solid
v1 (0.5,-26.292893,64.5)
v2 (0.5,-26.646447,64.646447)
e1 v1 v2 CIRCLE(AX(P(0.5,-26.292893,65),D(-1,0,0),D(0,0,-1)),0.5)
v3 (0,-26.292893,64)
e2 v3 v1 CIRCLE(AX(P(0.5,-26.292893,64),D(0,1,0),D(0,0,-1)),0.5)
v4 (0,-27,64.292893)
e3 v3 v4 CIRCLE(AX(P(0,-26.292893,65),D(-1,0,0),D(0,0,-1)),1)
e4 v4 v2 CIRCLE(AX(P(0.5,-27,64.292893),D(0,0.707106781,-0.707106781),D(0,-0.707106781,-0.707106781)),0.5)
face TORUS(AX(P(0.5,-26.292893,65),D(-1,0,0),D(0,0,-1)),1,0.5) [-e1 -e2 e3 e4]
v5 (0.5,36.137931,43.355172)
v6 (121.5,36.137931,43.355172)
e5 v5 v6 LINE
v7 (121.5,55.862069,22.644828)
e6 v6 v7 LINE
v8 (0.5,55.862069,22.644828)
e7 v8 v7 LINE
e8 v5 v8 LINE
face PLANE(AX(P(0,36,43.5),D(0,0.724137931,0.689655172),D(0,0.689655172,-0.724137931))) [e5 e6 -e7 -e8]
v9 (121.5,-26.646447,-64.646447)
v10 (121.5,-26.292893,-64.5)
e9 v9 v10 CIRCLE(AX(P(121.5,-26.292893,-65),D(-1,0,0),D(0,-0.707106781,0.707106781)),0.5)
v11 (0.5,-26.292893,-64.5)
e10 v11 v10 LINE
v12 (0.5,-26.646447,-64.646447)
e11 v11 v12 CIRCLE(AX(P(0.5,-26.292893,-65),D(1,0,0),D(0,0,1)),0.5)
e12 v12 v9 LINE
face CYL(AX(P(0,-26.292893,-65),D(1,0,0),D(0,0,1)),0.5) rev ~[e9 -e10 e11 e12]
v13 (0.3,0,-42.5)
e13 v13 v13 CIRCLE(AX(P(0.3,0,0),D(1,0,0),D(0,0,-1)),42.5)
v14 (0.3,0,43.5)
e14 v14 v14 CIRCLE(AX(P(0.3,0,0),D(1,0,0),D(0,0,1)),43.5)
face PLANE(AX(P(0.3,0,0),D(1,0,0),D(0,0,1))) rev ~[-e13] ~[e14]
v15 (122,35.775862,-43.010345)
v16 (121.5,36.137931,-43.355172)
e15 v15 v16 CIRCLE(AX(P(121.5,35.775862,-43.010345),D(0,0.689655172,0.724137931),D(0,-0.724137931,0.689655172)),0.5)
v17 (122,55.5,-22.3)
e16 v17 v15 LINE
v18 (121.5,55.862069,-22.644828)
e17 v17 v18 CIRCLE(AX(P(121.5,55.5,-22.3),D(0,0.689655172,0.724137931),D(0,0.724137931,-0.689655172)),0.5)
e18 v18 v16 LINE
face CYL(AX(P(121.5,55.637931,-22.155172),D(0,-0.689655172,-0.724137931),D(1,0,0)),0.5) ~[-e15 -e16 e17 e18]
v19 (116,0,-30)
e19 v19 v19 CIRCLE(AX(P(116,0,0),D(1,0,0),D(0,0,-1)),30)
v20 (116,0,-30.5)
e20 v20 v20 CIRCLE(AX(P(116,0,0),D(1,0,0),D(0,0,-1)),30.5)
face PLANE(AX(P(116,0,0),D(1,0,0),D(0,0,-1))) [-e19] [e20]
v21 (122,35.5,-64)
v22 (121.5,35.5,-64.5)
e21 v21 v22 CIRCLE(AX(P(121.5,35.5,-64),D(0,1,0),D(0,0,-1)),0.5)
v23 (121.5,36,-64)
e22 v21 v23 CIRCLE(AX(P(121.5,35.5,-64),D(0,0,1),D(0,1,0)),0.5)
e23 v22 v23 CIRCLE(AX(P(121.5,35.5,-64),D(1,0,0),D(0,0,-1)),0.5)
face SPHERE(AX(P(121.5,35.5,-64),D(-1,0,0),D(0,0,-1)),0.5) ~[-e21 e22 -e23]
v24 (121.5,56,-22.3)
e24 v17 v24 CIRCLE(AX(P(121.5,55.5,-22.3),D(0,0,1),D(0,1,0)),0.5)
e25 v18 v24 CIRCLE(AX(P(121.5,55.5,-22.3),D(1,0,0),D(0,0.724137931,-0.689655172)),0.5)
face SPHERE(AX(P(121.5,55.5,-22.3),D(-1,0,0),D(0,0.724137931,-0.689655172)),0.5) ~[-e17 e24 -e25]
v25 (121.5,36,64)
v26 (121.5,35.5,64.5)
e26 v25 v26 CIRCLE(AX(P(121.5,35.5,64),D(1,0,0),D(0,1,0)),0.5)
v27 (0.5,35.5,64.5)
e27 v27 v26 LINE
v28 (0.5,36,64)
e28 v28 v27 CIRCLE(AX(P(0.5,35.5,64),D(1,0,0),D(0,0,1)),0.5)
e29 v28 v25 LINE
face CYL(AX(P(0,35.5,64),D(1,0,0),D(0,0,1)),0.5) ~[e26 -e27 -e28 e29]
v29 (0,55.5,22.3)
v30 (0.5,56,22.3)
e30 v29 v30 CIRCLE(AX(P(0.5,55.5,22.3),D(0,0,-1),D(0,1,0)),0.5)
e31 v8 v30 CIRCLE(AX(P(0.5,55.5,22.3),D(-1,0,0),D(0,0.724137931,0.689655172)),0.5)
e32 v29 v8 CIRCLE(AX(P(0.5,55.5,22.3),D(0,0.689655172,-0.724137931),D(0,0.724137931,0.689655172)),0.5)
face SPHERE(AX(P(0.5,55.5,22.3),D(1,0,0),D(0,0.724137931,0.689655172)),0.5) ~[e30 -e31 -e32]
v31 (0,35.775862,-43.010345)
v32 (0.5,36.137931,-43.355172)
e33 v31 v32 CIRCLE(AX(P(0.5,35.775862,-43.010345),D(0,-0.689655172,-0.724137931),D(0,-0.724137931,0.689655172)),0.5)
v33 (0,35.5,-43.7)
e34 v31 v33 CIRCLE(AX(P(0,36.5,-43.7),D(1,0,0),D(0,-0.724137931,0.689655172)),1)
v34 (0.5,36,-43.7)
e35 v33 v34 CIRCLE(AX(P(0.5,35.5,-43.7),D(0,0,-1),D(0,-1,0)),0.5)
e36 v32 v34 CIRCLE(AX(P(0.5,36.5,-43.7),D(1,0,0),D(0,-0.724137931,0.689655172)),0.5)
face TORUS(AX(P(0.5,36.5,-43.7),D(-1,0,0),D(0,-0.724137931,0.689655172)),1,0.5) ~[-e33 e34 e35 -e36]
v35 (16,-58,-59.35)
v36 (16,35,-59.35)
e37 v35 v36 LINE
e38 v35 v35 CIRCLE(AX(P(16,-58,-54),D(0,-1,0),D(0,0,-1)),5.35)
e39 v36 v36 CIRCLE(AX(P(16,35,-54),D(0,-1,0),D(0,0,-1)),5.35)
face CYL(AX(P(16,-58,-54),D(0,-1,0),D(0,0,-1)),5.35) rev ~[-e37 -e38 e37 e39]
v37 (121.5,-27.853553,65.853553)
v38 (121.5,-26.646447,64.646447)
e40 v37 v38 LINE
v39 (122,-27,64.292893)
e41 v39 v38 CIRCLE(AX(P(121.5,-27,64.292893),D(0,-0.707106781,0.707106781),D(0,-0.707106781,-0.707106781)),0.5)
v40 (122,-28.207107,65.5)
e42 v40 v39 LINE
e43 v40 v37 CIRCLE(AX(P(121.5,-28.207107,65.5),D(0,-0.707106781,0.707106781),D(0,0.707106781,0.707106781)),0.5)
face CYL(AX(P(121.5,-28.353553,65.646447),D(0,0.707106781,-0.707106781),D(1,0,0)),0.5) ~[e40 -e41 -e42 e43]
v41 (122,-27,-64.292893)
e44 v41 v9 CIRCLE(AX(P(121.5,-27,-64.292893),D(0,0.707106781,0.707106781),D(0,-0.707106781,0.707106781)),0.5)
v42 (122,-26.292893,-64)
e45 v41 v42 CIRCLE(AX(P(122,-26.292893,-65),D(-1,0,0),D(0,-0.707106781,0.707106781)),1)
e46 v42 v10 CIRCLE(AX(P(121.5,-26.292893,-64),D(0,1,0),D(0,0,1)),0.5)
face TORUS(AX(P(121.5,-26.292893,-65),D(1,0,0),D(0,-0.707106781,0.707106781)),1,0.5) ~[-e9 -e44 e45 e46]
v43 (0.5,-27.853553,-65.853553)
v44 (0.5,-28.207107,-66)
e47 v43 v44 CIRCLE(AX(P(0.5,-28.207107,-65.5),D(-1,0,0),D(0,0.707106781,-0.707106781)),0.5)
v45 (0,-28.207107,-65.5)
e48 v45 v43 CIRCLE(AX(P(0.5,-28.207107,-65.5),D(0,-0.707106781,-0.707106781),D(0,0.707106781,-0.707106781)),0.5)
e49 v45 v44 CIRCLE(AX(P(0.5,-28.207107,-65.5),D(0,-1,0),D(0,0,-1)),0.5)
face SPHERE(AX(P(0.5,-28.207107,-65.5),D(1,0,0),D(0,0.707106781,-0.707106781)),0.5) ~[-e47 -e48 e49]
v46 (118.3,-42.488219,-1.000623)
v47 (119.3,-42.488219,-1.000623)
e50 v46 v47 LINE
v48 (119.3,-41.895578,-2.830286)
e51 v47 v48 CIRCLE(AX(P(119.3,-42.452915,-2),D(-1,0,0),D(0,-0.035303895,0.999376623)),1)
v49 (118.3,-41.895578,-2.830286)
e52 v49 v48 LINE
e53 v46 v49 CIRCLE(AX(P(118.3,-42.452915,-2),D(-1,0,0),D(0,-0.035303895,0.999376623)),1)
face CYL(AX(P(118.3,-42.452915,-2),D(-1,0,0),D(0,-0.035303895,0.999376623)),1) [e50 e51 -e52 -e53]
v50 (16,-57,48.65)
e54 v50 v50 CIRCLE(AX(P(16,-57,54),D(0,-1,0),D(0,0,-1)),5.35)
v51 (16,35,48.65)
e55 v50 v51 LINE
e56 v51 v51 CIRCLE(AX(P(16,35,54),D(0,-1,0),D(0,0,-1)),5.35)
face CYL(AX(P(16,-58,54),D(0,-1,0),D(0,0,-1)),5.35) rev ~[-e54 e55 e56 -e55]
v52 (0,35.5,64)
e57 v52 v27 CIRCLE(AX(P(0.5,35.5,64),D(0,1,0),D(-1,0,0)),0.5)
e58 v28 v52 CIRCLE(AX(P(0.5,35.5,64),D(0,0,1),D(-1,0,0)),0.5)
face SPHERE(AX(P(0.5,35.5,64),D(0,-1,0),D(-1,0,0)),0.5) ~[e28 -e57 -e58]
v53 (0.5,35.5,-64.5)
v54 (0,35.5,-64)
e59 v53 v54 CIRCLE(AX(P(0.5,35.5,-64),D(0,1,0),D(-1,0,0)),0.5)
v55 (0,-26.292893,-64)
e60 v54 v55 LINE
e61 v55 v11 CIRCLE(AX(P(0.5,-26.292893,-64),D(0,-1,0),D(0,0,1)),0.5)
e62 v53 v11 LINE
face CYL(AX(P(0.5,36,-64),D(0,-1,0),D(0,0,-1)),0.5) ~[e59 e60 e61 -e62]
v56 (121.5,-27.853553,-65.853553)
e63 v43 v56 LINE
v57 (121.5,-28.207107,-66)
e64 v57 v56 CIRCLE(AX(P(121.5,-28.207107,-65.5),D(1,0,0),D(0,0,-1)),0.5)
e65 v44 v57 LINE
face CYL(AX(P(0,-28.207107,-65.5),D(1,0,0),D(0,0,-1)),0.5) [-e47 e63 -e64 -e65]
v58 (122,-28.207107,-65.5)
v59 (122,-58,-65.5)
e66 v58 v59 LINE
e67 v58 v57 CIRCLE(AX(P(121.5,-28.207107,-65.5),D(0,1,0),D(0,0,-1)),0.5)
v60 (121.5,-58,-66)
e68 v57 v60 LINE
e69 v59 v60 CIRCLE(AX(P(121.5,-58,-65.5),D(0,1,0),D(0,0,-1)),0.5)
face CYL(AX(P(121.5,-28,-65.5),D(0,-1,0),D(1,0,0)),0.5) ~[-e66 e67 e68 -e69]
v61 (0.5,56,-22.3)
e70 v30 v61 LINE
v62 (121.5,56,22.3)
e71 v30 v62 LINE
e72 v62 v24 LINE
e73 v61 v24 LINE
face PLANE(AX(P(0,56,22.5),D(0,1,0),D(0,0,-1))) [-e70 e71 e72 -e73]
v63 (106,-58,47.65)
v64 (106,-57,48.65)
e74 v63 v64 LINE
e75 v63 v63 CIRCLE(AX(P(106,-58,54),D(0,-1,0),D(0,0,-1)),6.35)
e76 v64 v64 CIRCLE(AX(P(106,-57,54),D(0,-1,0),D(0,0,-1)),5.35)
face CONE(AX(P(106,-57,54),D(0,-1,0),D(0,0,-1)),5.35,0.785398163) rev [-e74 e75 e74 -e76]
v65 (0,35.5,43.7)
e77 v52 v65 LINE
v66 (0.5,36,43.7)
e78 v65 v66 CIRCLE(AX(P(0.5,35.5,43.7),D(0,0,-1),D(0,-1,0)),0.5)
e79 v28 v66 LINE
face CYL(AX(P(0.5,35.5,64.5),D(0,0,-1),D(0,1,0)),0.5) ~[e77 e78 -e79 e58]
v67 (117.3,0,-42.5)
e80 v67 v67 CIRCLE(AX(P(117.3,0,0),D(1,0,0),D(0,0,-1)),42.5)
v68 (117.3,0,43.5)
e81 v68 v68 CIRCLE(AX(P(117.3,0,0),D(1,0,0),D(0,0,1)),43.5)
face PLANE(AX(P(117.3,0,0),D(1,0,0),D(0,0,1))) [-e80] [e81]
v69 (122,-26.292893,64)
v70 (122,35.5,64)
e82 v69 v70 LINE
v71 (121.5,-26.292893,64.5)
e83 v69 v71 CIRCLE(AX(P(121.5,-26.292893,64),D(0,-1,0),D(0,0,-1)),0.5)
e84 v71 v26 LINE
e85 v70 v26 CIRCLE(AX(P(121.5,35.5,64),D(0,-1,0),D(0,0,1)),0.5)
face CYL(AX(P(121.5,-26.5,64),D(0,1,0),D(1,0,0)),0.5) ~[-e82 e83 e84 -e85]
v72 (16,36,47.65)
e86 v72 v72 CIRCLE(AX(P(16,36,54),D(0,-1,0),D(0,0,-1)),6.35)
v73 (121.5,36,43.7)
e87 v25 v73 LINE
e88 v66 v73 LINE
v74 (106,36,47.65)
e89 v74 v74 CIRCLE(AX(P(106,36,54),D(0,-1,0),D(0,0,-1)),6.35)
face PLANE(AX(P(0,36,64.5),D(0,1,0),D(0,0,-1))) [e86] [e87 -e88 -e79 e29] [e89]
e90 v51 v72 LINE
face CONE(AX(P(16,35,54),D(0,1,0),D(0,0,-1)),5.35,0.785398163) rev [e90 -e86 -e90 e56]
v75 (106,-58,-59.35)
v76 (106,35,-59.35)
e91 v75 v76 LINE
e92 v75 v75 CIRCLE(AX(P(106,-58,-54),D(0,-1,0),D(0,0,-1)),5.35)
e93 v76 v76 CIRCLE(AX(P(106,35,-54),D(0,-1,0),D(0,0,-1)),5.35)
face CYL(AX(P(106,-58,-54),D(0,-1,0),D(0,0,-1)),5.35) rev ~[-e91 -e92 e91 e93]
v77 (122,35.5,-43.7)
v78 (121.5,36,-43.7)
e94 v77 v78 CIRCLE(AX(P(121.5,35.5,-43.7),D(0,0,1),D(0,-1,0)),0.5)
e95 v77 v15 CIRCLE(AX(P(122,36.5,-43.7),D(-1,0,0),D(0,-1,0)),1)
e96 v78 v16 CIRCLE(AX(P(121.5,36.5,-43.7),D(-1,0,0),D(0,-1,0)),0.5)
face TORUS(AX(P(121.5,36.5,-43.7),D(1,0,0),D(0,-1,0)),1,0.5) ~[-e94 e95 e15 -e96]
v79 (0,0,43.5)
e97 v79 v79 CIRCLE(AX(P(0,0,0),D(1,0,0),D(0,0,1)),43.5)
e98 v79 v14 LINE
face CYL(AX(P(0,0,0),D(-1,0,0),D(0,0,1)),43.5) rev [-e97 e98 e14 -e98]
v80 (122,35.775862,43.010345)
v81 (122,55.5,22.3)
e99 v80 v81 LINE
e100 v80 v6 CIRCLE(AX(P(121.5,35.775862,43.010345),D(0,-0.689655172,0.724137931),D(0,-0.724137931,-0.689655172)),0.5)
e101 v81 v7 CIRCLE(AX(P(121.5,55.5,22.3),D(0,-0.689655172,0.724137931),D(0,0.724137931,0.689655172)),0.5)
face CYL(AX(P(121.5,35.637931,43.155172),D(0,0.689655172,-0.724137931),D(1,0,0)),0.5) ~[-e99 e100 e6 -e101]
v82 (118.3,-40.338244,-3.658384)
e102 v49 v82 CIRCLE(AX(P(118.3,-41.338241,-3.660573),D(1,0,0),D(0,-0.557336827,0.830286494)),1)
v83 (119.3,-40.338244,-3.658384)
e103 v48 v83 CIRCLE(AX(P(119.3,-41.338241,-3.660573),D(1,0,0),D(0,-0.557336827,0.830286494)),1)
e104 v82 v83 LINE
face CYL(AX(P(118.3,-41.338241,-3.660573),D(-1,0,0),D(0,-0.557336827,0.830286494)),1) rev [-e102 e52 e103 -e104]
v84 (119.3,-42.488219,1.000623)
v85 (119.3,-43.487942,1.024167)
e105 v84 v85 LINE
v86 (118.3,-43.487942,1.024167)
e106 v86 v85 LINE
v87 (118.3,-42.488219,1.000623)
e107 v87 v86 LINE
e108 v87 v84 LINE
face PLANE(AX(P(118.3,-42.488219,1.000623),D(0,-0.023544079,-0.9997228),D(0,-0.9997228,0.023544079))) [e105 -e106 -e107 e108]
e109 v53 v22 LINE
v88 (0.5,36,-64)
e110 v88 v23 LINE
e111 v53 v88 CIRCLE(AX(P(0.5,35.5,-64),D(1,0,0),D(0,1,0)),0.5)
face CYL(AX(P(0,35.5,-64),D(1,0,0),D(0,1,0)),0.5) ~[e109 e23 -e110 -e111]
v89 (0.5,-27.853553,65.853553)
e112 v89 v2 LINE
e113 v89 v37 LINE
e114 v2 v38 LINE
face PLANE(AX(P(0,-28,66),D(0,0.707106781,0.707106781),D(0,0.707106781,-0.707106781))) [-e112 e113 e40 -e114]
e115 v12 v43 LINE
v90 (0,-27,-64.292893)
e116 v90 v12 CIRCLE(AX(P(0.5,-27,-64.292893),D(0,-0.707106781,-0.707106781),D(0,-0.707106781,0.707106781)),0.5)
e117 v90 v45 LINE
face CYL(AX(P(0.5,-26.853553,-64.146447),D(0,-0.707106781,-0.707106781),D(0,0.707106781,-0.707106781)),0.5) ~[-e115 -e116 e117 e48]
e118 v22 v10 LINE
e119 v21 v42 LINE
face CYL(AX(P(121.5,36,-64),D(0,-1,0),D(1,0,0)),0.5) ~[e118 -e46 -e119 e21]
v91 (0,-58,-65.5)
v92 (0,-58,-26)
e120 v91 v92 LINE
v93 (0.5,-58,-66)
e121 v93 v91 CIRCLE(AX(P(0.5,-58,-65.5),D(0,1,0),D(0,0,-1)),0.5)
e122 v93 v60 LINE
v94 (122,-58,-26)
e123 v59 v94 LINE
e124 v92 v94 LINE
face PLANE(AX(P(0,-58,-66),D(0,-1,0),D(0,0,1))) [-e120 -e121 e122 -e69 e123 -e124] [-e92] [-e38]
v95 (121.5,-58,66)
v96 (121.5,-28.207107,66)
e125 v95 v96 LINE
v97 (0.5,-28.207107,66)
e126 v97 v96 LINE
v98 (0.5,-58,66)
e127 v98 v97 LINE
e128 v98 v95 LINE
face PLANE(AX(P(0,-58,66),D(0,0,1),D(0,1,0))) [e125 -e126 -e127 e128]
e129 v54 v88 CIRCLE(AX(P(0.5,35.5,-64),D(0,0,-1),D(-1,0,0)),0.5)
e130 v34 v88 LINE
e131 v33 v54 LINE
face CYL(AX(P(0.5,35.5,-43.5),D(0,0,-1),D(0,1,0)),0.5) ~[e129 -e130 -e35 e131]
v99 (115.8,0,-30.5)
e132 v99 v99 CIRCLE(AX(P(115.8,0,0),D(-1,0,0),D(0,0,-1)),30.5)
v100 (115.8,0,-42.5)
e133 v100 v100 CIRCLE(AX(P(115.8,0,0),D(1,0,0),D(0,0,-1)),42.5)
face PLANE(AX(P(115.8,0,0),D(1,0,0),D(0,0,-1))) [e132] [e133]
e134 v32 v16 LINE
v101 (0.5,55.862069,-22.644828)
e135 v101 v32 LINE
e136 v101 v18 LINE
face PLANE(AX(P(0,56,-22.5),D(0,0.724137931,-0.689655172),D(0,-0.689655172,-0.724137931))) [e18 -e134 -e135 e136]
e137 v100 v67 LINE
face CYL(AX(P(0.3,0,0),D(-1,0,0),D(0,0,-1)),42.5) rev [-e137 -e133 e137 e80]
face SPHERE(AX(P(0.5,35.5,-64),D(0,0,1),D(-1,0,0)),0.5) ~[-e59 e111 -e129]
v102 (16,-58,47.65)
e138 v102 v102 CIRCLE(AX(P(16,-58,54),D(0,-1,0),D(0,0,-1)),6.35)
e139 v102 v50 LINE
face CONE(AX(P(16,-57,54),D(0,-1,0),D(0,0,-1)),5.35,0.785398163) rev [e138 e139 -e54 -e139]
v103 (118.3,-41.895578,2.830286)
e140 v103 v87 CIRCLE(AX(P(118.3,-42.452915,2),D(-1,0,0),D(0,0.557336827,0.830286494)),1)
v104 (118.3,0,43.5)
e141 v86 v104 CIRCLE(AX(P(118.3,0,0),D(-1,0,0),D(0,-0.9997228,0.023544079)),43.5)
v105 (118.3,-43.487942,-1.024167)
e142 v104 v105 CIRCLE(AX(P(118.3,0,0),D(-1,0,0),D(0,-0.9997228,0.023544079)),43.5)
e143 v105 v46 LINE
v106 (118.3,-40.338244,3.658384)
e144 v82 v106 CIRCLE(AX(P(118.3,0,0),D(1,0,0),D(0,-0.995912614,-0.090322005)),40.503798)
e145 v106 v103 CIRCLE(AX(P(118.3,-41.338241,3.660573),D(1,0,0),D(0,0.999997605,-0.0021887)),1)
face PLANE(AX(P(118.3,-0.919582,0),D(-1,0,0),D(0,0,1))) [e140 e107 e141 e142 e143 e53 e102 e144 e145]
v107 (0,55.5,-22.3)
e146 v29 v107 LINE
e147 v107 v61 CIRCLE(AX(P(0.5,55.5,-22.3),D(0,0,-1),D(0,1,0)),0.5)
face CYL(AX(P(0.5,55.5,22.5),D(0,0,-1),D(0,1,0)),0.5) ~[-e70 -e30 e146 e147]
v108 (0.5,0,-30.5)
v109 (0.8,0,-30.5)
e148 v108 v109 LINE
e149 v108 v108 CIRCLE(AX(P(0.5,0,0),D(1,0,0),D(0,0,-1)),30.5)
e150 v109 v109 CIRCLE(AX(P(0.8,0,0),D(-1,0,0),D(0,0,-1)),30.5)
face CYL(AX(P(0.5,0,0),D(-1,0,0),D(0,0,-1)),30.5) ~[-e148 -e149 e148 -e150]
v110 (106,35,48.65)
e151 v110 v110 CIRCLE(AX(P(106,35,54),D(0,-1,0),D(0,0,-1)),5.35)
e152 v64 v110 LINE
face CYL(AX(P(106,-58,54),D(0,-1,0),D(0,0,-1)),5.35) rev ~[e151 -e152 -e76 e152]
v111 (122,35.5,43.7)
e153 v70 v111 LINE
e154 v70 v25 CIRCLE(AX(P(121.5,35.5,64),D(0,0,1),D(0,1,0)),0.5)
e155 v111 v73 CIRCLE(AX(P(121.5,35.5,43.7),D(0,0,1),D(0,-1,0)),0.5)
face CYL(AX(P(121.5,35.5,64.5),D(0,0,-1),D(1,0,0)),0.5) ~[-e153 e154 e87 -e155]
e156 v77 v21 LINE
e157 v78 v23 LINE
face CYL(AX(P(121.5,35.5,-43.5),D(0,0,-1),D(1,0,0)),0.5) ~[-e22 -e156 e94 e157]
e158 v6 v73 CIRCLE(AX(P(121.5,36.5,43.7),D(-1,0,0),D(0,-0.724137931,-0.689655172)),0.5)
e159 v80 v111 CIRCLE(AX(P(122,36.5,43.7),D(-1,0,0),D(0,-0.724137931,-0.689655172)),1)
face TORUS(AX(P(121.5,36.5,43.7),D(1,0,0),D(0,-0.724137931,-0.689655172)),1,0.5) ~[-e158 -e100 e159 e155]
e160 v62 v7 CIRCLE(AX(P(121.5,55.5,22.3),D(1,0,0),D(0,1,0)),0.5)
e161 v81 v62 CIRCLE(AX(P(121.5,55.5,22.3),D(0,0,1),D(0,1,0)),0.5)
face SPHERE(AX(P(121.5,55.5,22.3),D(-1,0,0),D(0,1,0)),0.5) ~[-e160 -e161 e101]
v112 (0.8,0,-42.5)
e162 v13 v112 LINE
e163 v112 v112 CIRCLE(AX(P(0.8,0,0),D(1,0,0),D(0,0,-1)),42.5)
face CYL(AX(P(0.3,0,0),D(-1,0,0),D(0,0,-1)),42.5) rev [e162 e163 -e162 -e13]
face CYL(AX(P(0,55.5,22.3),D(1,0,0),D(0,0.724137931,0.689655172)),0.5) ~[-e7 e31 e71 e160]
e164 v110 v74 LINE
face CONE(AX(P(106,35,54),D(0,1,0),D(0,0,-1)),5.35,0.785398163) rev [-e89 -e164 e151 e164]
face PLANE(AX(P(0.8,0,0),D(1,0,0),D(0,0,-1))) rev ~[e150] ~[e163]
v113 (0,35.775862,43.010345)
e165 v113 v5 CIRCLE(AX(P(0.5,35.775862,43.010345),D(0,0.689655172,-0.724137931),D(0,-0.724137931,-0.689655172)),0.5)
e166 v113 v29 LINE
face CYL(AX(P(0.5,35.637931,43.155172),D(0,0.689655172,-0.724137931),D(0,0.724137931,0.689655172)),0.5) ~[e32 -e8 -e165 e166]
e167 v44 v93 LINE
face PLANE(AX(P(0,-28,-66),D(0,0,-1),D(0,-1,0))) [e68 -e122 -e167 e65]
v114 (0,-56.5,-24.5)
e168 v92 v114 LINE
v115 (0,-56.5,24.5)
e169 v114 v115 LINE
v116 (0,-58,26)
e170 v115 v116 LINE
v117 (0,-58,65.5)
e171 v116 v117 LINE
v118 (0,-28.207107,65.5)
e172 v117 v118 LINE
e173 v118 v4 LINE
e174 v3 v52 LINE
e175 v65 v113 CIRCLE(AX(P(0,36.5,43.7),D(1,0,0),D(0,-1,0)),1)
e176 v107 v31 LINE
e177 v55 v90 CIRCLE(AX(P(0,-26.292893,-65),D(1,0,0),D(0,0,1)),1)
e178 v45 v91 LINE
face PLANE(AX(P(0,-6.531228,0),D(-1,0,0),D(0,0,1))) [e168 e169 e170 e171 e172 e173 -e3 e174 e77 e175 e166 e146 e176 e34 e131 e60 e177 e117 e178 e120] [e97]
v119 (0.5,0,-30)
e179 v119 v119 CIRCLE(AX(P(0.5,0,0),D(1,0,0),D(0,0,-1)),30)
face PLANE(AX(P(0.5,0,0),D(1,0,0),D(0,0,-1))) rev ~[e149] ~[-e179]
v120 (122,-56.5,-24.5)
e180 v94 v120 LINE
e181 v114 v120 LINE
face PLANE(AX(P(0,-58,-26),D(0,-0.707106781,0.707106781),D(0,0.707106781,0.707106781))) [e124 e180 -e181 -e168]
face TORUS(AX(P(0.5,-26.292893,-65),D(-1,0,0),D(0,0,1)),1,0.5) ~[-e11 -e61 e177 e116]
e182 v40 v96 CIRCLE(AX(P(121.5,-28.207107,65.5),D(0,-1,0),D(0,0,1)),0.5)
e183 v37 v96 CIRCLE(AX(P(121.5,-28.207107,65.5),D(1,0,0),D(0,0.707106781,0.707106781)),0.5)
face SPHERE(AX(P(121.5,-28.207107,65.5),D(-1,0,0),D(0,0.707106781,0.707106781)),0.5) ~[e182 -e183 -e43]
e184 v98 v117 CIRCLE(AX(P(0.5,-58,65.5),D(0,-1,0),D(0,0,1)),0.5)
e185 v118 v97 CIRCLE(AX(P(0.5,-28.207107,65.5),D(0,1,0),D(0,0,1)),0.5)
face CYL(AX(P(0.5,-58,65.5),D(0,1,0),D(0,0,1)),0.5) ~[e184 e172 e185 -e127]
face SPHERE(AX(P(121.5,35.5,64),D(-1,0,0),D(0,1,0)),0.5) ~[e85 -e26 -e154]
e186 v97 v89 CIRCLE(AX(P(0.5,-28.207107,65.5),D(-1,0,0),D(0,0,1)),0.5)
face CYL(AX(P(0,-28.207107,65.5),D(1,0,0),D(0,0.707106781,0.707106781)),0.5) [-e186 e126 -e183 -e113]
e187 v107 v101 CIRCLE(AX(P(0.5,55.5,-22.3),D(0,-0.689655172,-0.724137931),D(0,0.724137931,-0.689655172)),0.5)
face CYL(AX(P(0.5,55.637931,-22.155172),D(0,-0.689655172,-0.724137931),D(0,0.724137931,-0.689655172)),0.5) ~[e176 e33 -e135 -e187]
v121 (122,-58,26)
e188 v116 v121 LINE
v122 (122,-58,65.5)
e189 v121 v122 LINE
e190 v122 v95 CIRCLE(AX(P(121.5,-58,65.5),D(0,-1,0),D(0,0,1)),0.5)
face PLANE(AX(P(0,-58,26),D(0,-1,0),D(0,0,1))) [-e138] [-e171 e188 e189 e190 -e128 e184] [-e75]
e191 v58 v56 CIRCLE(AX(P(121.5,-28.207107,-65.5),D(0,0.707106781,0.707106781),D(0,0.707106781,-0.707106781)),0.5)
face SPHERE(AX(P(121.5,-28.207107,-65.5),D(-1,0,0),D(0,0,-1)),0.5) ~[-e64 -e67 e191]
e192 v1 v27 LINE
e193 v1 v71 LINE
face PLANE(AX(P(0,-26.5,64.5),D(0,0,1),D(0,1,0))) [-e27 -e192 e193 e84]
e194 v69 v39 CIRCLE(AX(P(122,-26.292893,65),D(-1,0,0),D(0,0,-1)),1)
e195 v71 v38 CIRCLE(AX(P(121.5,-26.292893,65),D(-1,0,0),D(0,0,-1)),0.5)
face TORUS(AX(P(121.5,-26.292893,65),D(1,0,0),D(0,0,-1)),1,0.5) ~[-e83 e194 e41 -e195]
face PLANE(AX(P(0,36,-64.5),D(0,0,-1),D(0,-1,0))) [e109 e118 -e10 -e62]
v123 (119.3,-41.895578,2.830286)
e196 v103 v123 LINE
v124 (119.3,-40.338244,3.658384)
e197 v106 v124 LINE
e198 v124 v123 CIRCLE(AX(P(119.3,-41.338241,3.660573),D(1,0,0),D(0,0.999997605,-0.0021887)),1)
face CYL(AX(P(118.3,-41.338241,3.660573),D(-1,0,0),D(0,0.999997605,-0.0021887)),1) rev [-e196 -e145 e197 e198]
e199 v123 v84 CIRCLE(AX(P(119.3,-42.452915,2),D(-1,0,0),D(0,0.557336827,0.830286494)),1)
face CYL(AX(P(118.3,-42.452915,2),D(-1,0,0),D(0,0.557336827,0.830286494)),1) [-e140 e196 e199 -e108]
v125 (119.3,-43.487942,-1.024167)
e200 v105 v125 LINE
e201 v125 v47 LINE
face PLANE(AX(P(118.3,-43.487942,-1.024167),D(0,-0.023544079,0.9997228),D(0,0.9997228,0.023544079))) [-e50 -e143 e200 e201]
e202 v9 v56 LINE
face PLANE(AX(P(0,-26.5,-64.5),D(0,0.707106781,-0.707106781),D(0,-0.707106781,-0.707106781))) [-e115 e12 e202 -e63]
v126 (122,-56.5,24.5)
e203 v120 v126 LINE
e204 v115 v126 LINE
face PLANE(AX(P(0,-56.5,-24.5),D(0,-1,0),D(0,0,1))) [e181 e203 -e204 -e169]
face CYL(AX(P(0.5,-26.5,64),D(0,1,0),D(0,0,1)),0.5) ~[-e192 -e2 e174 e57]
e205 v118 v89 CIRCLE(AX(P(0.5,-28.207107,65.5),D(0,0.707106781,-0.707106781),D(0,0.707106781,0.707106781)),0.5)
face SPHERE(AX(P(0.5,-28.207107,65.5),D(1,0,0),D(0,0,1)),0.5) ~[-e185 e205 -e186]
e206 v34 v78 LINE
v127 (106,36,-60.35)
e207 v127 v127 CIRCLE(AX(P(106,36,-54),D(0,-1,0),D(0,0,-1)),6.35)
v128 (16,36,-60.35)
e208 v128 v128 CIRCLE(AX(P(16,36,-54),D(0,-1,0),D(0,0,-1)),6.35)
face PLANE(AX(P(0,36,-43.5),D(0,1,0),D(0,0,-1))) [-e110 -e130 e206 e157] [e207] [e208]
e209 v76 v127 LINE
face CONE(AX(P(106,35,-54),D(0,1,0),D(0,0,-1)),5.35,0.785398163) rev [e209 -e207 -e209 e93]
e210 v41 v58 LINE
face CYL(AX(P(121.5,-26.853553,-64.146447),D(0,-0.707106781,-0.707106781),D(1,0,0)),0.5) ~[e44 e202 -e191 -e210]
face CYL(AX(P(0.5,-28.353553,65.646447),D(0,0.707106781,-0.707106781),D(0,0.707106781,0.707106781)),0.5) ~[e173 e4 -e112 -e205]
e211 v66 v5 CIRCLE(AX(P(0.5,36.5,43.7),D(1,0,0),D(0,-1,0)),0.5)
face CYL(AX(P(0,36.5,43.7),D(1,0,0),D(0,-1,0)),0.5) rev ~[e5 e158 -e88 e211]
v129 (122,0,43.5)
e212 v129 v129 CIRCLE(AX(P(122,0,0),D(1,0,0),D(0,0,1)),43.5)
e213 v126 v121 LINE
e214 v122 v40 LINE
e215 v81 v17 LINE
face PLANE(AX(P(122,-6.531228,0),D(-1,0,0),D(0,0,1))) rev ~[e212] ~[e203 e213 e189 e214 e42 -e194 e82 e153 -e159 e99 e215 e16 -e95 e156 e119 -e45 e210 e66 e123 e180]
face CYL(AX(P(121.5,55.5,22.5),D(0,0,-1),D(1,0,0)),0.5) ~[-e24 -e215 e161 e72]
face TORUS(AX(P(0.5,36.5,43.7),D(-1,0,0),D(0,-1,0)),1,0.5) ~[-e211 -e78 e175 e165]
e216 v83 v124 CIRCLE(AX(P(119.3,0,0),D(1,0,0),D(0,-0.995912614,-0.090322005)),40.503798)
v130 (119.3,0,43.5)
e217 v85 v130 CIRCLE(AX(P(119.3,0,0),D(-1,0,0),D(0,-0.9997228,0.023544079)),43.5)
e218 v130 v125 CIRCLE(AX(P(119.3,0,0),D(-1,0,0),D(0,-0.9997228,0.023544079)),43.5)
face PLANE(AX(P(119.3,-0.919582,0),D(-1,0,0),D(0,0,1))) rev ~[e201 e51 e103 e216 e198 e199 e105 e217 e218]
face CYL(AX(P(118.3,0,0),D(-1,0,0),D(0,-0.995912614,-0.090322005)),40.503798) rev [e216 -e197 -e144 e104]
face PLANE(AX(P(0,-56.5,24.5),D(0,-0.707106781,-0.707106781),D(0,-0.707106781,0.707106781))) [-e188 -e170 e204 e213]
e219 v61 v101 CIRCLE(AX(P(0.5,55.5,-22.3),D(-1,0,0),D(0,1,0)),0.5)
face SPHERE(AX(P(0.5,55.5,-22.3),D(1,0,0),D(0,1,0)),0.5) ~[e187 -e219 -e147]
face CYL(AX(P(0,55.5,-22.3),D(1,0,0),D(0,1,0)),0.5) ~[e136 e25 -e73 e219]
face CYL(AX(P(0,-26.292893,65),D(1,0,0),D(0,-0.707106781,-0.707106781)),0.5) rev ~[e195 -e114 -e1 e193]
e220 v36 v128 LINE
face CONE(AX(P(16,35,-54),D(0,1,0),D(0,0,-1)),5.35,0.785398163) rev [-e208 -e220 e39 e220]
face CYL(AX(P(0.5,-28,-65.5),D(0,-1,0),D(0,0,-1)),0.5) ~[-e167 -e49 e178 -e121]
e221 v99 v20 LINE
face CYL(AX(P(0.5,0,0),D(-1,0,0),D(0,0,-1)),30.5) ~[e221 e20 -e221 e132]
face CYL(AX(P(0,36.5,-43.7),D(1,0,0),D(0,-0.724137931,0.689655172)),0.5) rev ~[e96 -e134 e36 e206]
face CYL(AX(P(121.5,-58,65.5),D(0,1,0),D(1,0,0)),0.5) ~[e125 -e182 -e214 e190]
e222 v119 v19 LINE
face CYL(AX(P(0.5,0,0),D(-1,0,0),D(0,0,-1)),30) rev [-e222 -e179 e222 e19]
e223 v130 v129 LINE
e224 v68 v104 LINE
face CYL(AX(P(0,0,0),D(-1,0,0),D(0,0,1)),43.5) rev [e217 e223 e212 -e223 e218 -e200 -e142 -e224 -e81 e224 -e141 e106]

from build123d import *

# Parameters (mm, degrees)
SKETCH1_R           = 43.5
BOSS_EXTRUDE1_DEPTH = 122
EXTRUDE_THIN1_START = 0.5
SKETCH1_4_R         = 30.5
SKETCH1_4_R_2       = 30
EXTRUDE_THIN1_DEPTH = 115.5
BOSS_EXTRUDE2_START = 0.8
SKETCH1_5_R         = 42.5
SKETCH1_5_R_2       = 30
BOSS_EXTRUDE2_DEPTH = 115
BOSS_EXTRUDE3_START = 0.3
SKETCH1_6_R         = 43.5
SKETCH1_6_R_2       = 42.5
BOSS_EXTRUDE3_DEPTH = 117
BOSS_EXTRUDE4_START = 1
BOSS_EXTRUDE4_DEPTH = 1
FILLET1_R           = 0.5
SKETCH4_R           = 5.35
CUT_EXTRUDE3_DEPTH  = 180.543866506
CHAMFER1_SIZE       = 1


with BuildPart() as part:
    # Sketch1 → Boss-Extrude1 (new body)
    with BuildSketch(Plane(origin=(0, 0, 0), x_dir=(0, 0, -1), z_dir=(1, 0, 0))):
        Polygon((-66, -58), (-26, -58), (-24.5, -56.5), (24.5, -56.5), (26, -58), (66, -58), (66, -28), (64.5, -26.5), (64.5, 36), (43.5, 36), (22.5, 56), (-22.5, 56), (-43.5, 36), (-64.5, 36), (-64.5, -26.5), (-66, -28), align=None)
        Circle(SKETCH1_R, mode=Mode.SUBTRACT)
    extrude(amount=BOSS_EXTRUDE1_DEPTH)



with BuildPart() as body_2:
    # Sketch1<4> → Extrude-Thin1 (new body)
    with BuildSketch(Plane(origin=(0, 0, 0), x_dir=(0, 0, -1), z_dir=(1, 0, 0)).offset(EXTRUDE_THIN1_START)):
        Circle(SKETCH1_4_R)
        Circle(SKETCH1_4_R_2, mode=Mode.SUBTRACT)
    extrude(amount=EXTRUDE_THIN1_DEPTH)

    # Sketch1<5> → Boss-Extrude2 (add)
    with BuildSketch(Plane(origin=(0, 0, 0), x_dir=(0, 0, -1), z_dir=(1, 0, 0)).offset(BOSS_EXTRUDE2_START)):
        Circle(SKETCH1_5_R)
        Circle(SKETCH1_5_R_2, mode=Mode.SUBTRACT)
    extrude(amount=BOSS_EXTRUDE2_DEPTH)


with BuildPart() as part_1:
    add(part.part)

    add(body_2.part)  # Boss-Extrude3 merges body 2
    # Sketch1<6> → Boss-Extrude3 (add)
    with BuildSketch(Plane(origin=(0, 0, 0), x_dir=(0, 0, -1), z_dir=(1, 0, 0)).offset(BOSS_EXTRUDE3_START)):
        Circle(SKETCH1_6_R)
        Circle(SKETCH1_6_R_2, mode=Mode.SUBTRACT)
    extrude(amount=BOSS_EXTRUDE3_DEPTH)

    # Sketch3 → Boss-Extrude4 (add)
    with BuildSketch(Plane(origin=(117.3, 0, 0), x_dir=(0, 0, -1), z_dir=(1, 0, 0)).offset(BOSS_EXTRUDE4_START)):
        with BuildLine():
            Line((-1.000623377, -42.488218989), (-1.024167456, -43.487941789))
            ThreePointArc((-1.024167456, -43.487941789), (0, 43.5), (1.024167456, -43.487941789))
            Line((1.024167456, -43.487941789), (1.000623377, -42.488218989))
            ThreePointArc((1.000623377, -42.488218989), (1.691854541, -41.50157584), (2.830286494, -41.895578267))
            ThreePointArc((2.830286494, -41.895578267), (4.543509208, -41.80773439), (3.658384287, -40.338243836))
            ThreePointArc((3.658384287, -40.338243836), (0, 40.503798481), (-3.658384287, -40.338243836))
            ThreePointArc((-3.658384287, -40.338243836), (-4.543509208, -41.80773439), (-2.830286494, -41.895578267))
            ThreePointArc((-2.830286494, -41.895578267), (-1.691854541, -41.50157584), (-1.000623377, -42.488218989))
        make_face()
    extrude(amount=BOSS_EXTRUDE4_DEPTH)

    # Fillet1
    fillet1_edges = [part_1.edges().sort_by_distance(p)[0] for p in [
        (61, -26.5, -64.5),
        (61, -26.5, 64.5),
        (61, -28, 66),
        (61, -28, -66),
        (61, 36, -43.5),
        (61, 36, 43.5),
        (61, 56, 22.5),
        (61, 56, -22.5),
        (61, 36, -64.5),
        (61, 36, 64.5),
        (122, 46, -33),
        (122, 46, 33),
        (122, 4.75, 64.5),
        (0, -27.25, 65.25),
        (0, 46, 33),
        (122, -27.25, -65.25),
        (122, -43, -66),
        (122, 4.75, -64.5),
        (122, 56, 0),
        (122, 36, -54),
        (122, 36, 54),
        (122, -27.25, 65.25),
        (122, -43, 66),
        (0, -43, -66),
        (0, -27.25, -65.25),
        (0, 4.75, -64.5),
        (0, 46, -33),
        (0, 36, -54),
        (0, 56, 0),
        (0, -43, 66),
        (0, 4.75, 64.5),
        (0, 36, 54),
    ]]
    fillet(fillet1_edges, radius=FILLET1_R)

    # Sketch4 → Cut-Extrude3 (cut, through all)
    with BuildSketch(Plane.XZ.offset(58)):
        with Locations((16, 54)):
            Circle(SKETCH4_R)
        with Locations((106, 54)):
            Circle(SKETCH4_R)
        with Locations((106, -54)):
            Circle(SKETCH4_R)
        with Locations((16, -54)):
            Circle(SKETCH4_R)
    extrude(amount=-CUT_EXTRUDE3_DEPTH, mode=Mode.SUBTRACT)

    # Chamfer1
    chamfer1_edges = [part_1.edges().sort_by_distance(p)[0] for p in [
        (100.65, 36, -54),
        (10.65, 36, -54),
        (10.65, 36, 54),
        (100.65, 36, 54),
        (100.65, -58, 54),
        (10.65, -58, 54),
    ]]
    chamfer(chamfer1_edges, length=CHAMFER1_SIZE)


solid = part_1.part
